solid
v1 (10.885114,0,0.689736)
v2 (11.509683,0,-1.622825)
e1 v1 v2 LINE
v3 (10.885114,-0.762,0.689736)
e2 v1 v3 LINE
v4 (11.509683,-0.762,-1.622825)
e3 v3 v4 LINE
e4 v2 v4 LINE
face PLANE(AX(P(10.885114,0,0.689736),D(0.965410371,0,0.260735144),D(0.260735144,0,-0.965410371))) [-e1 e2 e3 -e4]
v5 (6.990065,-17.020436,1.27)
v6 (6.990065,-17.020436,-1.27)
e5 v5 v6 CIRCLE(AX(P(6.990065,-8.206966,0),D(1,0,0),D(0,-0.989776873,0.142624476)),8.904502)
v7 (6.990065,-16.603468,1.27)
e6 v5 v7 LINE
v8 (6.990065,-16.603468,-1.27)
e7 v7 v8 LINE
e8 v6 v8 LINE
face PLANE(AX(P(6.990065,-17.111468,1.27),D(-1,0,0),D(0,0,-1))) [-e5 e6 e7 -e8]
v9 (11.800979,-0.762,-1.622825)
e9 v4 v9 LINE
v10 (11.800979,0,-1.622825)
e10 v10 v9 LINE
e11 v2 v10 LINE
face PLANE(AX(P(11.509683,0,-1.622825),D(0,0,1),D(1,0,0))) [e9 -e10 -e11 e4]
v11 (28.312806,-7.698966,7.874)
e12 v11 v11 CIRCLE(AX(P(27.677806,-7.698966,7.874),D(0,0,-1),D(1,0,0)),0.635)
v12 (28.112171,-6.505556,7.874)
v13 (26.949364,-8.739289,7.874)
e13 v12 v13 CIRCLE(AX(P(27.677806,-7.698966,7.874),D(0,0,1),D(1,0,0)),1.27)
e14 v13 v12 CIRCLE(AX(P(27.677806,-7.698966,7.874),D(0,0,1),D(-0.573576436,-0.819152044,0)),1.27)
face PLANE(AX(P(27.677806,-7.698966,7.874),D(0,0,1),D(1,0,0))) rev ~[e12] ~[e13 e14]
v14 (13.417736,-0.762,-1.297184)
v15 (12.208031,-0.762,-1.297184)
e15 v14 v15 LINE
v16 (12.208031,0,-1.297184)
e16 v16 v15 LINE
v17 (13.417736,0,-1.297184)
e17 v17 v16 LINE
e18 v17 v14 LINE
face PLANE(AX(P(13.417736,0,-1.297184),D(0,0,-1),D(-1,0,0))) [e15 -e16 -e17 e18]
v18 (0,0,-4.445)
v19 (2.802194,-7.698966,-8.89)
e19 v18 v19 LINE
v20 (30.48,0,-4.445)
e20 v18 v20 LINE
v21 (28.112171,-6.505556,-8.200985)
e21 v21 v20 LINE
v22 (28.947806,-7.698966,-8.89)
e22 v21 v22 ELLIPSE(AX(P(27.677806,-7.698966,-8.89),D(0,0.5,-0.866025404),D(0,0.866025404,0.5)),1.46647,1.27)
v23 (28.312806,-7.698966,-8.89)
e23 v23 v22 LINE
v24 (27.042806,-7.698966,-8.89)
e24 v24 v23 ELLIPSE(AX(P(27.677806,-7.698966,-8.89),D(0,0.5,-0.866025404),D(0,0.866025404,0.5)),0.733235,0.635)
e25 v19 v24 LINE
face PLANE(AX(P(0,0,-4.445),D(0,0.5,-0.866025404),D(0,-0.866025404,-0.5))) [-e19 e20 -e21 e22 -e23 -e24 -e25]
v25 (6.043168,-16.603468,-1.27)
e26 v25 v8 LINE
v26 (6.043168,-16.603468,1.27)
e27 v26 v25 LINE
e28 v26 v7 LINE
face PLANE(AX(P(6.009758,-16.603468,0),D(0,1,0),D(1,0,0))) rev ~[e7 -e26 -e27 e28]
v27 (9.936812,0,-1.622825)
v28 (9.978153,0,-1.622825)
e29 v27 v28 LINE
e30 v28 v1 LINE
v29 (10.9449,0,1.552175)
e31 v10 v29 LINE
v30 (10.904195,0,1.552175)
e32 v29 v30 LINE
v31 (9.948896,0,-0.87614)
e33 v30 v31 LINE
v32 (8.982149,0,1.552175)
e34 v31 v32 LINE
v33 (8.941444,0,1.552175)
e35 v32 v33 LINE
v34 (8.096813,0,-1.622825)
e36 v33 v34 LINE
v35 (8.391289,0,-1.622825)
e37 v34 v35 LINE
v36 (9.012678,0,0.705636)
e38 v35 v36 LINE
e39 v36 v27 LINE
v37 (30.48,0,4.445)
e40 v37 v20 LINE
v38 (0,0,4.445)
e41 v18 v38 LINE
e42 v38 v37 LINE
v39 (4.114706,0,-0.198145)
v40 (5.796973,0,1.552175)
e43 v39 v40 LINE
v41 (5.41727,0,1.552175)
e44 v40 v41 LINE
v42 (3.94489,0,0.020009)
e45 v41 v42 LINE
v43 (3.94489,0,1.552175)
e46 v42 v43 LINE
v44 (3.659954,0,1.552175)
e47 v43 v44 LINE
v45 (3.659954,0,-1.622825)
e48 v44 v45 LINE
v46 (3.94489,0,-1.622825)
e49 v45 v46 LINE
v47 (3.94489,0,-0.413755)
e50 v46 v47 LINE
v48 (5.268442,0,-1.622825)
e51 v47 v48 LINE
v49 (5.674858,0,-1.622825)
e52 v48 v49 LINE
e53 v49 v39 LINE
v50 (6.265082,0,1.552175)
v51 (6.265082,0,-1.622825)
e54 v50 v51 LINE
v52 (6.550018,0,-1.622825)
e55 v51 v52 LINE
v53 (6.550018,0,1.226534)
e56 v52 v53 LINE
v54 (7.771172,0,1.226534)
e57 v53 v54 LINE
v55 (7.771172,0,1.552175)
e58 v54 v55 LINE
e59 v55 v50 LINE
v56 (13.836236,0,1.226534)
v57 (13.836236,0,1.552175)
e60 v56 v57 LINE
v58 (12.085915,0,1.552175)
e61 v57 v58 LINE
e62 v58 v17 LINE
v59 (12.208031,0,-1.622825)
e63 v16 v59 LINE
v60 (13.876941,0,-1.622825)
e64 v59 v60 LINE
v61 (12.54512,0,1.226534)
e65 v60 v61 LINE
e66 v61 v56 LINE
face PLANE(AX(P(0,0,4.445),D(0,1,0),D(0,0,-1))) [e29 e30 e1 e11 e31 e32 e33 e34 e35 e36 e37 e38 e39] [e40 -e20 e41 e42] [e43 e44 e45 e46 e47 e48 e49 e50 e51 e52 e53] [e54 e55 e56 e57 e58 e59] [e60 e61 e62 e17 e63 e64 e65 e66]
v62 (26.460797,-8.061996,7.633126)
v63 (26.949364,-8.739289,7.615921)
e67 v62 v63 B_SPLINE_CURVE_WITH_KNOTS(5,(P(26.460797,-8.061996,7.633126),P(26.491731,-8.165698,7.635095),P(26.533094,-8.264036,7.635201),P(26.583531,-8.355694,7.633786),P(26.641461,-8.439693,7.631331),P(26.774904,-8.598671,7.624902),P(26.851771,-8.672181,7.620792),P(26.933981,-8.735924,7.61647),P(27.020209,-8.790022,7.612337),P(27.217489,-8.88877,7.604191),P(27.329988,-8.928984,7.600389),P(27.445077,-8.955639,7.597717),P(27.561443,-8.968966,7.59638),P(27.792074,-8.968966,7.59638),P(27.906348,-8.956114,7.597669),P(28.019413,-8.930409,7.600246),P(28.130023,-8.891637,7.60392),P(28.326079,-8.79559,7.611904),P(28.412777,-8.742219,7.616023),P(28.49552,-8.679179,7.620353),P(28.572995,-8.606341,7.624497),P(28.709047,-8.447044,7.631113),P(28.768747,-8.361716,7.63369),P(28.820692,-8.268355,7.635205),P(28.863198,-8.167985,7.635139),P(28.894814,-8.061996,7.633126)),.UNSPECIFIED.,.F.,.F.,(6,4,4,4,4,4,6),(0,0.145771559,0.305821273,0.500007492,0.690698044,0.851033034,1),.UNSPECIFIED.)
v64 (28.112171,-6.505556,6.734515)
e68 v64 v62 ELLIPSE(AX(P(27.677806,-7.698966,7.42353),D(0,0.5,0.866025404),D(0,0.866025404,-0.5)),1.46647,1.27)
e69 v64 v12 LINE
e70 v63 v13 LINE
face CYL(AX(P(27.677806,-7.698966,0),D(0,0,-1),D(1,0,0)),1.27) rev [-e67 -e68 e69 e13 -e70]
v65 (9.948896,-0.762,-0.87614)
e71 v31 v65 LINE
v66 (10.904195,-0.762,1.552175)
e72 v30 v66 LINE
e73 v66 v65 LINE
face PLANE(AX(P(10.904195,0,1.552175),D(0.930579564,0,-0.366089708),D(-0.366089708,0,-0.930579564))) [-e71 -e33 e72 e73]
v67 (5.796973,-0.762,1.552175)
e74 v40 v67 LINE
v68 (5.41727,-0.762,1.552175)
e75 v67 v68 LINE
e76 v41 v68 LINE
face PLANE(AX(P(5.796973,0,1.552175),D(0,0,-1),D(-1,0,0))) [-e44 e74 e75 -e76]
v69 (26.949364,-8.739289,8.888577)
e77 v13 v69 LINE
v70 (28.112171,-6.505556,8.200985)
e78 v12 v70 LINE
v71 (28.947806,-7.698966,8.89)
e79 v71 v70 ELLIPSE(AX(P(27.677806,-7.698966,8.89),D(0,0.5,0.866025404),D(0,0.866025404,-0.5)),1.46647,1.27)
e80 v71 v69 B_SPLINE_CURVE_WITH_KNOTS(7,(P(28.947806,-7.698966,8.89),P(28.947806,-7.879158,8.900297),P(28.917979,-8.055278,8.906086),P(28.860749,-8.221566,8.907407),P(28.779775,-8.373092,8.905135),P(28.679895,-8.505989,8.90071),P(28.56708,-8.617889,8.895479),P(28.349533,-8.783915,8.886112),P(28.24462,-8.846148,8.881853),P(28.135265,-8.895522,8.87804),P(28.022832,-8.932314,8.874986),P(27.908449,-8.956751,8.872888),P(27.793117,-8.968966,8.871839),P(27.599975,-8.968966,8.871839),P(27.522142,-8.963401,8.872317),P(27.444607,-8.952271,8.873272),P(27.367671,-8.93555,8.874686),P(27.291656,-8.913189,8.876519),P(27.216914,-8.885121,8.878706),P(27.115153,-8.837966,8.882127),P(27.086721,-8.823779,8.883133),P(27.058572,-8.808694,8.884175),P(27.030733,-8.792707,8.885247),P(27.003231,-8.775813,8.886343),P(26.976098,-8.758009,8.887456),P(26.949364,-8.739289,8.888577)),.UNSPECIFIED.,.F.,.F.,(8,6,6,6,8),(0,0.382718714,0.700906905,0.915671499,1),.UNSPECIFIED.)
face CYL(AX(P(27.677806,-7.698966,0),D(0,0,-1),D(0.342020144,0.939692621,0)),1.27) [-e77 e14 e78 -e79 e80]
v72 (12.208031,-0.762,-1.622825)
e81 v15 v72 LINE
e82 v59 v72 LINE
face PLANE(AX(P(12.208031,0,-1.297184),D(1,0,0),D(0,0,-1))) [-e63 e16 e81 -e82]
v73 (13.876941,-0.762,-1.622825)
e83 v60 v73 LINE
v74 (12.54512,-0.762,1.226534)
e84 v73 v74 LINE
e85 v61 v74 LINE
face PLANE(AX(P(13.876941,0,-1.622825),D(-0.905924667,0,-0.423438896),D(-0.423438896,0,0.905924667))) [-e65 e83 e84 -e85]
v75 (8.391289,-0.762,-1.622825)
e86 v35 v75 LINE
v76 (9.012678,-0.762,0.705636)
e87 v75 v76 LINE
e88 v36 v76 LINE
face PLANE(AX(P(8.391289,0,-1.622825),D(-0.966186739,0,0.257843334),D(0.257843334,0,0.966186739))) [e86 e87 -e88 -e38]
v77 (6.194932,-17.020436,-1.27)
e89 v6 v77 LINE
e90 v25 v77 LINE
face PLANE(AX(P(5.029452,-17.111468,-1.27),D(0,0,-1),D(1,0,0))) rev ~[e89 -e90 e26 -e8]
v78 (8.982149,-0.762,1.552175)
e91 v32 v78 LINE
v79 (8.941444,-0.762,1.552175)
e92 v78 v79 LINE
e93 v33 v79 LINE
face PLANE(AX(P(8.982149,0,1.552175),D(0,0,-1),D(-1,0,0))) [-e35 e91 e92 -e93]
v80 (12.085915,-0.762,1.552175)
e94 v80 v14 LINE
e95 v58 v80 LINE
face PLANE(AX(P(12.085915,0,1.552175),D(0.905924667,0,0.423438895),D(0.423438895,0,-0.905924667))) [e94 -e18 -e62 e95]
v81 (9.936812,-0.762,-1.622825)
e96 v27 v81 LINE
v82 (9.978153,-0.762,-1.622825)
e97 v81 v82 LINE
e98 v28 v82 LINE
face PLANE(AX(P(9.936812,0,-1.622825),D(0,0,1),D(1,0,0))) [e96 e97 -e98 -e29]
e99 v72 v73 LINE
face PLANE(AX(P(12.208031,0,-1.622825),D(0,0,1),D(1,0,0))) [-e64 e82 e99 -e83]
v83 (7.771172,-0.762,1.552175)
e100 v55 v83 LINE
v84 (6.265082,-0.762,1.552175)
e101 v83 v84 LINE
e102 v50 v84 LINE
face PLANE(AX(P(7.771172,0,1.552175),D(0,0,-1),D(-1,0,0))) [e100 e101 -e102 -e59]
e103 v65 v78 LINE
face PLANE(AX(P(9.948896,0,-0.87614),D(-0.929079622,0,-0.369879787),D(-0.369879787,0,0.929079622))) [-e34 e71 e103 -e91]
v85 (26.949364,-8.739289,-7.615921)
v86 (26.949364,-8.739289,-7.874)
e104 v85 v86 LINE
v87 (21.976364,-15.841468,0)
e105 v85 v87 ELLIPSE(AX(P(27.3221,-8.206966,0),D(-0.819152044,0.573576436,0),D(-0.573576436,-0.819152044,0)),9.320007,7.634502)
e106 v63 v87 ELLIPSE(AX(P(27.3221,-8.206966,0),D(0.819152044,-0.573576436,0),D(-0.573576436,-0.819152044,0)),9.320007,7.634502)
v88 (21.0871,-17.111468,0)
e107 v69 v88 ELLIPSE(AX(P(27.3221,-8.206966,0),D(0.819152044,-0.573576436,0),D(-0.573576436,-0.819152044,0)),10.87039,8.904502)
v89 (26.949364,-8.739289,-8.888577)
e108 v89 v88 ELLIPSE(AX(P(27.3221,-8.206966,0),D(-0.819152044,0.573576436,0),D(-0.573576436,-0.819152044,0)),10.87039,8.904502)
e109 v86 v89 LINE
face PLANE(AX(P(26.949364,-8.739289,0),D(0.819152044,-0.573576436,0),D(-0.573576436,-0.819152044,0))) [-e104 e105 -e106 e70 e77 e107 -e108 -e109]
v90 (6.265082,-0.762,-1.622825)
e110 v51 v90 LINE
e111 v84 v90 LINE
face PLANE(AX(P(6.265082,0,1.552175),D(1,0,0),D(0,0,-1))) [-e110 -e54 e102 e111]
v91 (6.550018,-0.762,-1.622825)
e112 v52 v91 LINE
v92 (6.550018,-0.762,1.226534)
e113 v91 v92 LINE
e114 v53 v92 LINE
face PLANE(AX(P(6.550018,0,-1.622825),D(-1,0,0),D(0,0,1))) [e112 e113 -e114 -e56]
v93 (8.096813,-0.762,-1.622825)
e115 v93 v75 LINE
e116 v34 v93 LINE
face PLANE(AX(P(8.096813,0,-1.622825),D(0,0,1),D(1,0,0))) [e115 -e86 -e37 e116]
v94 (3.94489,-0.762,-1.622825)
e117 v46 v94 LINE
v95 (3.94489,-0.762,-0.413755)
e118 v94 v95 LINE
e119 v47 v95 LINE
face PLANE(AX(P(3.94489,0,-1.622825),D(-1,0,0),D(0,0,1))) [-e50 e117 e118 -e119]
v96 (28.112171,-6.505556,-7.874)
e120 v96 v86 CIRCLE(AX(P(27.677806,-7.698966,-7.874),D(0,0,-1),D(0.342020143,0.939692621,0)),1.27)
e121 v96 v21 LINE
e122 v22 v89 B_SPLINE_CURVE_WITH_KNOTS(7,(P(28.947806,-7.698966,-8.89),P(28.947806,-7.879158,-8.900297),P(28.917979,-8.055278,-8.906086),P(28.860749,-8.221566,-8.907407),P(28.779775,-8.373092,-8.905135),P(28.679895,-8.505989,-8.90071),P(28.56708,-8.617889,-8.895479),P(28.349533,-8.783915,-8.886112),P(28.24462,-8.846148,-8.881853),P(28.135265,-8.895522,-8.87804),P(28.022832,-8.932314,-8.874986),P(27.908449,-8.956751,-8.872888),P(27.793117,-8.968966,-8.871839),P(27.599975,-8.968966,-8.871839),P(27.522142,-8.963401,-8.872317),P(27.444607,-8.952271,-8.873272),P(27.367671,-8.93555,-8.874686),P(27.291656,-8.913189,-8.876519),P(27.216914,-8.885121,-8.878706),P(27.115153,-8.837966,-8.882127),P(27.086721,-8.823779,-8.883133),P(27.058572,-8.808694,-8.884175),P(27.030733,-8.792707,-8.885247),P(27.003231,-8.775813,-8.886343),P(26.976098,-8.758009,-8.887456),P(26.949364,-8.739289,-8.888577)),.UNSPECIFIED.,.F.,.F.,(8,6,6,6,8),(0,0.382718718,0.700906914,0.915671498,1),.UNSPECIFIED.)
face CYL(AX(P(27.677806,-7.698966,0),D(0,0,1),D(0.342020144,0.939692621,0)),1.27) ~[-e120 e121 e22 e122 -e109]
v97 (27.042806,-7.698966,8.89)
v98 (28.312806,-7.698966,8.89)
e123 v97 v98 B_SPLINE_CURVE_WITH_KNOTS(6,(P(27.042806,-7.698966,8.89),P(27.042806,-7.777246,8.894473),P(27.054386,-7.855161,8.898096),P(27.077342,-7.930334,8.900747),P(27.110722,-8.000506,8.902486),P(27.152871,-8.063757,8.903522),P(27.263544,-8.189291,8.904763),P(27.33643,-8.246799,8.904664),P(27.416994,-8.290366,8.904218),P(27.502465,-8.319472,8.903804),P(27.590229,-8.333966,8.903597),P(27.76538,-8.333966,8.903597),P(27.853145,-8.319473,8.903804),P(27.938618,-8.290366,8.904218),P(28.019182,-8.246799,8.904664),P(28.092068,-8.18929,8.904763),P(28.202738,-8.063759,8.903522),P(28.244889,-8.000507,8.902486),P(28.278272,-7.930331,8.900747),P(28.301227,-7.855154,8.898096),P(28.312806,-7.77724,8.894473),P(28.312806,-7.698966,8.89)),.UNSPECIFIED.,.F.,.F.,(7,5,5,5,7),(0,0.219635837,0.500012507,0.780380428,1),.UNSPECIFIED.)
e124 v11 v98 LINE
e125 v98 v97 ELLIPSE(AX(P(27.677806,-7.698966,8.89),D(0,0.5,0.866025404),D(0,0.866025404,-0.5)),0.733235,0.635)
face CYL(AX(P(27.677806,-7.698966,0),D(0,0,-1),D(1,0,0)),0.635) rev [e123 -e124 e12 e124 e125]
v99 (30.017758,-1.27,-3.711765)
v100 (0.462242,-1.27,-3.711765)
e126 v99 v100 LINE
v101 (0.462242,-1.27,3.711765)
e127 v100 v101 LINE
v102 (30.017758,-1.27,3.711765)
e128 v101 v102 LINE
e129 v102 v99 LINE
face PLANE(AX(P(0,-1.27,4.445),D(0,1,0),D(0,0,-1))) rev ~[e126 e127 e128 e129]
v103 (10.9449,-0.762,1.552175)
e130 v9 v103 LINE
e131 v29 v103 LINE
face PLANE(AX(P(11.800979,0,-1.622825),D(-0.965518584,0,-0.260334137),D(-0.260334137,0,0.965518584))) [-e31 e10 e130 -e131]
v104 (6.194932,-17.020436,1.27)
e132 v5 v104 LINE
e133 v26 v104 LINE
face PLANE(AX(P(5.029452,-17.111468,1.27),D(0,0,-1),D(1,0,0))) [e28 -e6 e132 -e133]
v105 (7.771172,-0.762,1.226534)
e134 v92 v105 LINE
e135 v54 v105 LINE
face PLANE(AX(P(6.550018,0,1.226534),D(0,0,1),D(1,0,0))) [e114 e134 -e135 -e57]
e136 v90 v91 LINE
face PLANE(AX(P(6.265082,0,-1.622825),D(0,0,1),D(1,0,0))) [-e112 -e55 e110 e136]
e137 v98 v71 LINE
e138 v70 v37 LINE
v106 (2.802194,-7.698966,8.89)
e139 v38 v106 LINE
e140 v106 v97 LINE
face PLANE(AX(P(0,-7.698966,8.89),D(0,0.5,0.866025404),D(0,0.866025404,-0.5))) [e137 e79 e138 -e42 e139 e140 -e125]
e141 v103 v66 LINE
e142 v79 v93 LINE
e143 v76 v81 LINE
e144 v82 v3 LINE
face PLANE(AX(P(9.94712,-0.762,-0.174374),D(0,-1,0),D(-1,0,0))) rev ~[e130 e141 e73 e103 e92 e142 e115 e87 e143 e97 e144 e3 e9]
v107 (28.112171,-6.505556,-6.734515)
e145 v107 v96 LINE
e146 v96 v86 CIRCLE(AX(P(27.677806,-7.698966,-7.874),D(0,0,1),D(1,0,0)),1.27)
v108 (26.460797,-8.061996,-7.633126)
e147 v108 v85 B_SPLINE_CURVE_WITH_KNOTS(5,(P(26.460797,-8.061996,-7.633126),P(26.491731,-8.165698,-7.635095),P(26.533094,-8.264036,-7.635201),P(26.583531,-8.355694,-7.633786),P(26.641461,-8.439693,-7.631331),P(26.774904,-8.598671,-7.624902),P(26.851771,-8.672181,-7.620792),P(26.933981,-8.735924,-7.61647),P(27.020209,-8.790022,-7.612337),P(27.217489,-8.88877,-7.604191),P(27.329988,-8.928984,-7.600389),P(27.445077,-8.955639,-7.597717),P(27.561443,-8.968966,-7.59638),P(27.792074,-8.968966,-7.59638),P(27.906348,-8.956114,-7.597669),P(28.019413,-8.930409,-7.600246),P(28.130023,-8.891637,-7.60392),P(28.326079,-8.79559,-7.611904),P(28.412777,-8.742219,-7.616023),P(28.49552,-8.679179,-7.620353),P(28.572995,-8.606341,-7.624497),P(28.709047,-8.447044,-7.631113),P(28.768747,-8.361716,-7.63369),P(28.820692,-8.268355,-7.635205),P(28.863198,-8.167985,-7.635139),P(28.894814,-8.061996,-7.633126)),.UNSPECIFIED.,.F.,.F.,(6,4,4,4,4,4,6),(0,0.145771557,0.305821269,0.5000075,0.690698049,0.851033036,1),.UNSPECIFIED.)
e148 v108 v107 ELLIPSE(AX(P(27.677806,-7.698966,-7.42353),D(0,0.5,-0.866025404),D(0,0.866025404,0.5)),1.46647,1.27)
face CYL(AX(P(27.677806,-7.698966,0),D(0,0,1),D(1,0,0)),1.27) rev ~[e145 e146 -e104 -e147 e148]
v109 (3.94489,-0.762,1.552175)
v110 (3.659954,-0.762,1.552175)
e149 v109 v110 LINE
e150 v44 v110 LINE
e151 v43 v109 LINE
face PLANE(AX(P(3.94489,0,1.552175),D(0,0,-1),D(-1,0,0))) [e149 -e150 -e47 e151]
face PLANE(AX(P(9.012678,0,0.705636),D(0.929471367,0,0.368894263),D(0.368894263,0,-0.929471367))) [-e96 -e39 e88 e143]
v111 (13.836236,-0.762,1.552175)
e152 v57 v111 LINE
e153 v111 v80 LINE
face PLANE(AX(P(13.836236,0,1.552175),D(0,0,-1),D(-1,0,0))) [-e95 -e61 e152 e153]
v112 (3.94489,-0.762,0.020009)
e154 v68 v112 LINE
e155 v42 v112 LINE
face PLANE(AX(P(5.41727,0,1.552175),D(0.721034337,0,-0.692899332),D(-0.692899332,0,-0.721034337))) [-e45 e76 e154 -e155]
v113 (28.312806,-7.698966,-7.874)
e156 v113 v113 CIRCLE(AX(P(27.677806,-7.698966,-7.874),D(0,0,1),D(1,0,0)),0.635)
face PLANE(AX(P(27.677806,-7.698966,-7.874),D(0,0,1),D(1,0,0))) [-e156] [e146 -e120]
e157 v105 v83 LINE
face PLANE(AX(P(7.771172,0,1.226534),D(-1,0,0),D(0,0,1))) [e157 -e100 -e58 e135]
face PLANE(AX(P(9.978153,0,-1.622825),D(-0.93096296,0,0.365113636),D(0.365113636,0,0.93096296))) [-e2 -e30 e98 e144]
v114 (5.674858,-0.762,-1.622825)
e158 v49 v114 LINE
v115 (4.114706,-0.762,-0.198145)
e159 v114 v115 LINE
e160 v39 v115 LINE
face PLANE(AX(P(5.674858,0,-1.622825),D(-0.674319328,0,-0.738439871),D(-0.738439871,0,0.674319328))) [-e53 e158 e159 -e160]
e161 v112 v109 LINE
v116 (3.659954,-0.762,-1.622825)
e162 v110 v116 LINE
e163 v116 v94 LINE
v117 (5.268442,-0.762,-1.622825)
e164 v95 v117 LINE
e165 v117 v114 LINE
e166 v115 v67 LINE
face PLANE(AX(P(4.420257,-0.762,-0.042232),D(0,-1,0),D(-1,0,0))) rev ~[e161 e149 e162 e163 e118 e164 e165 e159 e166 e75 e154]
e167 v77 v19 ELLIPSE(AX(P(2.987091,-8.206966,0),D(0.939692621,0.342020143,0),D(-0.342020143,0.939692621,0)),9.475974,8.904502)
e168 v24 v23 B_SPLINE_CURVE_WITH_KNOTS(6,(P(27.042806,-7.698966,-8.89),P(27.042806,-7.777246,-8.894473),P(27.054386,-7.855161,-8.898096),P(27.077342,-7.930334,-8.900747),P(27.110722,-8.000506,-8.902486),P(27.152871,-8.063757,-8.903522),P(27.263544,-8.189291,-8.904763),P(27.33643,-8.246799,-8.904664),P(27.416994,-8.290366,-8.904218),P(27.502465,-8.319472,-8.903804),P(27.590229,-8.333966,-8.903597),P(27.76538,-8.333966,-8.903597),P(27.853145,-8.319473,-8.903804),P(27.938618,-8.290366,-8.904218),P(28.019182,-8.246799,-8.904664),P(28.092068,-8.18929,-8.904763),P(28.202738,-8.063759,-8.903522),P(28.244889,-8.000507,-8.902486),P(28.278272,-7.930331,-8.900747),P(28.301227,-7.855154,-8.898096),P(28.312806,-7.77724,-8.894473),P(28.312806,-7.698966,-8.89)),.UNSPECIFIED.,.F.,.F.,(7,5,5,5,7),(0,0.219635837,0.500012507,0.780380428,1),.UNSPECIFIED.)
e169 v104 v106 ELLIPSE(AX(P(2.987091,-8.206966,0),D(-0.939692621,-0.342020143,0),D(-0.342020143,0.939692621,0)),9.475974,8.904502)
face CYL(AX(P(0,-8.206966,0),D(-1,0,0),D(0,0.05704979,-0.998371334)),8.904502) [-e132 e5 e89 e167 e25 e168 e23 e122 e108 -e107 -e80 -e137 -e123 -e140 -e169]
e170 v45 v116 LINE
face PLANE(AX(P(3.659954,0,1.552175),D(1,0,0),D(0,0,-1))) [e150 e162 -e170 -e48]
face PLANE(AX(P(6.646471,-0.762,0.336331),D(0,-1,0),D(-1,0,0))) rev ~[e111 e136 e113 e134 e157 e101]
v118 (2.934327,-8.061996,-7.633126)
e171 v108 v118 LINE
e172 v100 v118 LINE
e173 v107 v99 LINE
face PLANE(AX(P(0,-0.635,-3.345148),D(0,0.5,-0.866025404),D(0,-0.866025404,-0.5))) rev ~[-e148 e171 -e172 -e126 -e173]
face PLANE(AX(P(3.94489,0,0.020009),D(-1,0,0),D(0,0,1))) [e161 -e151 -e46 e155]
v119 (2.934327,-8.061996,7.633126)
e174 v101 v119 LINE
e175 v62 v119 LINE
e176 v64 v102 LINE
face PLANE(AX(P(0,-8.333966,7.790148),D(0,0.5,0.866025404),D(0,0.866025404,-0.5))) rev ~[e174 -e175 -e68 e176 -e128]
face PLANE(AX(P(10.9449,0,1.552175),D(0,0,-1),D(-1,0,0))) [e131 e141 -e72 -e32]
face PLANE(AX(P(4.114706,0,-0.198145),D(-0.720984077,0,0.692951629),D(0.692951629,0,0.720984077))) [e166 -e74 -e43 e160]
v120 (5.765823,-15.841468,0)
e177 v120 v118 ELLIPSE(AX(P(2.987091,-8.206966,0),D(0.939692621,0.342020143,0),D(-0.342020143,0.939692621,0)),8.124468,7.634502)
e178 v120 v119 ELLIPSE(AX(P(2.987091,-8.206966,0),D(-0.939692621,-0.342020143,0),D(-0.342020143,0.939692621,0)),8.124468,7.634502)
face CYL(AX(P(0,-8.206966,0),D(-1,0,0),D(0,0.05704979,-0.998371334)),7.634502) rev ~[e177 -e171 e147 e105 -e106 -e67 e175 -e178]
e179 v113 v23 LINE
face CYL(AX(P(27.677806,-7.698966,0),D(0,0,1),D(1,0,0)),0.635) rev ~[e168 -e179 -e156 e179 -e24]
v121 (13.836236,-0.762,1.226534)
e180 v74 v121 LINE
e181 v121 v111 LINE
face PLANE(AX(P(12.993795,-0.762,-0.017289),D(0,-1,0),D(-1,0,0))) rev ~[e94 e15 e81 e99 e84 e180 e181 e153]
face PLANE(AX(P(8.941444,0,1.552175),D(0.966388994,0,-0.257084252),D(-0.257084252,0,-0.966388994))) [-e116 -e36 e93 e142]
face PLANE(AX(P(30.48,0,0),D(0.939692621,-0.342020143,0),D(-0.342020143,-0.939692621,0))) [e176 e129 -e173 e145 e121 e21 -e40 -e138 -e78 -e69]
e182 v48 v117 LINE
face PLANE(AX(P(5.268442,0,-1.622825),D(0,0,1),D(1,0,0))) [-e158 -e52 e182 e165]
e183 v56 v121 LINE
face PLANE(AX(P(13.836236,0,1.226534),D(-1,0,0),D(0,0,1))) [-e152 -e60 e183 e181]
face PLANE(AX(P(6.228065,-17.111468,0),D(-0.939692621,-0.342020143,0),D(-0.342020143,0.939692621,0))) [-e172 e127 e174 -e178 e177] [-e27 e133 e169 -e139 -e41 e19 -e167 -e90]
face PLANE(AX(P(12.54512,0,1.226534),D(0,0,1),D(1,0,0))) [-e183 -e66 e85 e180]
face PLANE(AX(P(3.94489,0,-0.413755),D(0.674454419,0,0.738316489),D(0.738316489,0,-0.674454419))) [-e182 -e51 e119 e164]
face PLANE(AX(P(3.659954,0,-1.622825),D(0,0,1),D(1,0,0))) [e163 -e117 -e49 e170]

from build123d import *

# Parameters (mm, degrees)
BOSS_EXTRUDE1_DEPTH     = 30.48
SHELL1_T                = -1.27
SKETCH2_R               = 0.635
CUT_EXTRUDE1_DEPTH      = 9.904502457
CUT_EXTRUDE1_DEPTH_BACK = 9.904502457
SKETCH5_R               = 1.27
CUT_EXTRUDE3_DEPTH      = 7.874
CUT_EXTRUDE3_DEPTH_BACK = 7.874
SKETCH6_W               = 1.960613331
SKETCH6_H               = 2.54
CUT_EXTRUDE4_DEPTH      = 0.508
CUT_EXTRUDE2_DEPTH      = 0.762


with BuildPart() as part:
    # Sketch1 → Boss-Extrude1 (new body)
    with BuildSketch(Plane(origin=(0, 0, 0), x_dir=(0, 0, -1), z_dir=(1, 0, 0))):
        with BuildLine():
            Line((-4.445, 0), (4.445, 0))
            Line((4.445, 0), (8.89, -7.69896584))
            ThreePointArc((8.89, -7.69896584), (0, -17.111468296), (-8.89, -7.69896584))
            Line((-8.89, -7.69896584), (-4.445, 0))
        make_face()
    extrude(amount=BOSS_EXTRUDE1_DEPTH)

    # Shell1
    shell1_openings = [part.faces().sort_by_distance(p)[0] for p in [
        (30.48, -6.202608534, 0),
        (0, -6.202608534, 0),
    ]]
    offset(amount=SHELL1_T, openings=shell1_openings, kind=Kind.INTERSECTION)

    # Sketch2 → Cut-Extrude1 (cut, two sides)
    with BuildSketch(Plane.XY) as cut_extrude1_sk:
        with Locations((27.6778056, -7.69896584)):
            Circle(SKETCH2_R)
        with BuildLine():
            Line((30.48, 0), (28.112171182, -6.505556211))
            ThreePointArc((28.112171182, -6.505556211), (28.804309358, -8.285386578), (26.949363526, -8.739288936))
            Line((26.949363526, -8.739288936), (21.087100426, -17.111468296))
            Line((21.087100426, -17.111468296), (30.48, -17.111468296))
            Line((30.48, -17.111468296), (30.48, 0))
        make_face()
        Polygon((0, -17.111468296), (6.228065124, -17.111468296), (0, 0), align=None)
    extrude(amount=CUT_EXTRUDE1_DEPTH, mode=Mode.SUBTRACT)
    extrude(cut_extrude1_sk.sketch, amount=-CUT_EXTRUDE1_DEPTH_BACK, mode=Mode.SUBTRACT)

    # Sketch5 → Cut-Extrude3 (cut, two sides)
    with BuildSketch(Plane.XY) as cut_extrude3_sk:
        with Locations((27.6778056, -7.69896584)):
            Circle(SKETCH5_R)
    extrude(amount=CUT_EXTRUDE3_DEPTH, mode=Mode.SUBTRACT)
    extrude(cut_extrude3_sk.sketch, amount=-CUT_EXTRUDE3_DEPTH_BACK, mode=Mode.SUBTRACT)

    # Sketch6 → Cut-Extrude4 (cut)
    with BuildSketch(Plane(origin=(0, -17.111468296, 0), x_dir=(1, 0, 0), z_dir=(0, 1, 0))):
        with Locations((6.009758459, 0)):
            Rectangle(SKETCH6_W, SKETCH6_H)
    extrude(amount=CUT_EXTRUDE4_DEPTH, mode=Mode.SUBTRACT)

    # Sketch3 → Cut-Extrude2 (cut)
    with BuildSketch(Plane(origin=(0, 0, 0), x_dir=(1, 0, 0), z_dir=(0, 1, 0))):
        Polygon((3.659953748, 1.62282455), (3.944889646, 1.62282455), (3.944889646, 0.413755039), (5.26844233, 1.62282455), (5.674857594, 1.62282455), (4.114706352, 0.198145063), (5.796972979, -1.55217545), (5.417270455, -1.55217545), (3.944889646, -0.020008984), (3.944889646, -1.55217545), (3.659953748, -1.55217545), align=None)
        Polygon((6.265081953, 1.62282455), (6.550017851, 1.62282455), (6.550017851, -1.226534424), (7.771171697, -1.226534424), (7.771171697, -1.55217545), (6.265081953, -1.55217545), align=None)
        Polygon((8.096812723, 1.62282455), (8.391288884, 1.62282455), (9.012678107, -0.705635987), (9.936811721, 1.62282455), (9.978152867, 1.62282455), (10.885114005, -0.689735546), (11.509683316, 1.62282455), (11.800979389, 1.62282455), (10.944899662, -1.55217545), (10.904194533, -1.55217545), (9.948896056, 0.876139855), (8.982149261, -1.55217545), (8.941444133, -1.55217545), align=None)
        Polygon((12.208030671, 1.297183524), (12.208030671, 1.62282455), (13.876940928, 1.62282455), (12.545120014, -1.226534424), (13.8362358, -1.226534424), (13.8362358, -1.55217545), (12.085915287, -1.55217545), (13.4177362, 1.297183524), align=None)
    extrude(amount=-CUT_EXTRUDE2_DEPTH, mode=Mode.SUBTRACT)


solid = part.part
